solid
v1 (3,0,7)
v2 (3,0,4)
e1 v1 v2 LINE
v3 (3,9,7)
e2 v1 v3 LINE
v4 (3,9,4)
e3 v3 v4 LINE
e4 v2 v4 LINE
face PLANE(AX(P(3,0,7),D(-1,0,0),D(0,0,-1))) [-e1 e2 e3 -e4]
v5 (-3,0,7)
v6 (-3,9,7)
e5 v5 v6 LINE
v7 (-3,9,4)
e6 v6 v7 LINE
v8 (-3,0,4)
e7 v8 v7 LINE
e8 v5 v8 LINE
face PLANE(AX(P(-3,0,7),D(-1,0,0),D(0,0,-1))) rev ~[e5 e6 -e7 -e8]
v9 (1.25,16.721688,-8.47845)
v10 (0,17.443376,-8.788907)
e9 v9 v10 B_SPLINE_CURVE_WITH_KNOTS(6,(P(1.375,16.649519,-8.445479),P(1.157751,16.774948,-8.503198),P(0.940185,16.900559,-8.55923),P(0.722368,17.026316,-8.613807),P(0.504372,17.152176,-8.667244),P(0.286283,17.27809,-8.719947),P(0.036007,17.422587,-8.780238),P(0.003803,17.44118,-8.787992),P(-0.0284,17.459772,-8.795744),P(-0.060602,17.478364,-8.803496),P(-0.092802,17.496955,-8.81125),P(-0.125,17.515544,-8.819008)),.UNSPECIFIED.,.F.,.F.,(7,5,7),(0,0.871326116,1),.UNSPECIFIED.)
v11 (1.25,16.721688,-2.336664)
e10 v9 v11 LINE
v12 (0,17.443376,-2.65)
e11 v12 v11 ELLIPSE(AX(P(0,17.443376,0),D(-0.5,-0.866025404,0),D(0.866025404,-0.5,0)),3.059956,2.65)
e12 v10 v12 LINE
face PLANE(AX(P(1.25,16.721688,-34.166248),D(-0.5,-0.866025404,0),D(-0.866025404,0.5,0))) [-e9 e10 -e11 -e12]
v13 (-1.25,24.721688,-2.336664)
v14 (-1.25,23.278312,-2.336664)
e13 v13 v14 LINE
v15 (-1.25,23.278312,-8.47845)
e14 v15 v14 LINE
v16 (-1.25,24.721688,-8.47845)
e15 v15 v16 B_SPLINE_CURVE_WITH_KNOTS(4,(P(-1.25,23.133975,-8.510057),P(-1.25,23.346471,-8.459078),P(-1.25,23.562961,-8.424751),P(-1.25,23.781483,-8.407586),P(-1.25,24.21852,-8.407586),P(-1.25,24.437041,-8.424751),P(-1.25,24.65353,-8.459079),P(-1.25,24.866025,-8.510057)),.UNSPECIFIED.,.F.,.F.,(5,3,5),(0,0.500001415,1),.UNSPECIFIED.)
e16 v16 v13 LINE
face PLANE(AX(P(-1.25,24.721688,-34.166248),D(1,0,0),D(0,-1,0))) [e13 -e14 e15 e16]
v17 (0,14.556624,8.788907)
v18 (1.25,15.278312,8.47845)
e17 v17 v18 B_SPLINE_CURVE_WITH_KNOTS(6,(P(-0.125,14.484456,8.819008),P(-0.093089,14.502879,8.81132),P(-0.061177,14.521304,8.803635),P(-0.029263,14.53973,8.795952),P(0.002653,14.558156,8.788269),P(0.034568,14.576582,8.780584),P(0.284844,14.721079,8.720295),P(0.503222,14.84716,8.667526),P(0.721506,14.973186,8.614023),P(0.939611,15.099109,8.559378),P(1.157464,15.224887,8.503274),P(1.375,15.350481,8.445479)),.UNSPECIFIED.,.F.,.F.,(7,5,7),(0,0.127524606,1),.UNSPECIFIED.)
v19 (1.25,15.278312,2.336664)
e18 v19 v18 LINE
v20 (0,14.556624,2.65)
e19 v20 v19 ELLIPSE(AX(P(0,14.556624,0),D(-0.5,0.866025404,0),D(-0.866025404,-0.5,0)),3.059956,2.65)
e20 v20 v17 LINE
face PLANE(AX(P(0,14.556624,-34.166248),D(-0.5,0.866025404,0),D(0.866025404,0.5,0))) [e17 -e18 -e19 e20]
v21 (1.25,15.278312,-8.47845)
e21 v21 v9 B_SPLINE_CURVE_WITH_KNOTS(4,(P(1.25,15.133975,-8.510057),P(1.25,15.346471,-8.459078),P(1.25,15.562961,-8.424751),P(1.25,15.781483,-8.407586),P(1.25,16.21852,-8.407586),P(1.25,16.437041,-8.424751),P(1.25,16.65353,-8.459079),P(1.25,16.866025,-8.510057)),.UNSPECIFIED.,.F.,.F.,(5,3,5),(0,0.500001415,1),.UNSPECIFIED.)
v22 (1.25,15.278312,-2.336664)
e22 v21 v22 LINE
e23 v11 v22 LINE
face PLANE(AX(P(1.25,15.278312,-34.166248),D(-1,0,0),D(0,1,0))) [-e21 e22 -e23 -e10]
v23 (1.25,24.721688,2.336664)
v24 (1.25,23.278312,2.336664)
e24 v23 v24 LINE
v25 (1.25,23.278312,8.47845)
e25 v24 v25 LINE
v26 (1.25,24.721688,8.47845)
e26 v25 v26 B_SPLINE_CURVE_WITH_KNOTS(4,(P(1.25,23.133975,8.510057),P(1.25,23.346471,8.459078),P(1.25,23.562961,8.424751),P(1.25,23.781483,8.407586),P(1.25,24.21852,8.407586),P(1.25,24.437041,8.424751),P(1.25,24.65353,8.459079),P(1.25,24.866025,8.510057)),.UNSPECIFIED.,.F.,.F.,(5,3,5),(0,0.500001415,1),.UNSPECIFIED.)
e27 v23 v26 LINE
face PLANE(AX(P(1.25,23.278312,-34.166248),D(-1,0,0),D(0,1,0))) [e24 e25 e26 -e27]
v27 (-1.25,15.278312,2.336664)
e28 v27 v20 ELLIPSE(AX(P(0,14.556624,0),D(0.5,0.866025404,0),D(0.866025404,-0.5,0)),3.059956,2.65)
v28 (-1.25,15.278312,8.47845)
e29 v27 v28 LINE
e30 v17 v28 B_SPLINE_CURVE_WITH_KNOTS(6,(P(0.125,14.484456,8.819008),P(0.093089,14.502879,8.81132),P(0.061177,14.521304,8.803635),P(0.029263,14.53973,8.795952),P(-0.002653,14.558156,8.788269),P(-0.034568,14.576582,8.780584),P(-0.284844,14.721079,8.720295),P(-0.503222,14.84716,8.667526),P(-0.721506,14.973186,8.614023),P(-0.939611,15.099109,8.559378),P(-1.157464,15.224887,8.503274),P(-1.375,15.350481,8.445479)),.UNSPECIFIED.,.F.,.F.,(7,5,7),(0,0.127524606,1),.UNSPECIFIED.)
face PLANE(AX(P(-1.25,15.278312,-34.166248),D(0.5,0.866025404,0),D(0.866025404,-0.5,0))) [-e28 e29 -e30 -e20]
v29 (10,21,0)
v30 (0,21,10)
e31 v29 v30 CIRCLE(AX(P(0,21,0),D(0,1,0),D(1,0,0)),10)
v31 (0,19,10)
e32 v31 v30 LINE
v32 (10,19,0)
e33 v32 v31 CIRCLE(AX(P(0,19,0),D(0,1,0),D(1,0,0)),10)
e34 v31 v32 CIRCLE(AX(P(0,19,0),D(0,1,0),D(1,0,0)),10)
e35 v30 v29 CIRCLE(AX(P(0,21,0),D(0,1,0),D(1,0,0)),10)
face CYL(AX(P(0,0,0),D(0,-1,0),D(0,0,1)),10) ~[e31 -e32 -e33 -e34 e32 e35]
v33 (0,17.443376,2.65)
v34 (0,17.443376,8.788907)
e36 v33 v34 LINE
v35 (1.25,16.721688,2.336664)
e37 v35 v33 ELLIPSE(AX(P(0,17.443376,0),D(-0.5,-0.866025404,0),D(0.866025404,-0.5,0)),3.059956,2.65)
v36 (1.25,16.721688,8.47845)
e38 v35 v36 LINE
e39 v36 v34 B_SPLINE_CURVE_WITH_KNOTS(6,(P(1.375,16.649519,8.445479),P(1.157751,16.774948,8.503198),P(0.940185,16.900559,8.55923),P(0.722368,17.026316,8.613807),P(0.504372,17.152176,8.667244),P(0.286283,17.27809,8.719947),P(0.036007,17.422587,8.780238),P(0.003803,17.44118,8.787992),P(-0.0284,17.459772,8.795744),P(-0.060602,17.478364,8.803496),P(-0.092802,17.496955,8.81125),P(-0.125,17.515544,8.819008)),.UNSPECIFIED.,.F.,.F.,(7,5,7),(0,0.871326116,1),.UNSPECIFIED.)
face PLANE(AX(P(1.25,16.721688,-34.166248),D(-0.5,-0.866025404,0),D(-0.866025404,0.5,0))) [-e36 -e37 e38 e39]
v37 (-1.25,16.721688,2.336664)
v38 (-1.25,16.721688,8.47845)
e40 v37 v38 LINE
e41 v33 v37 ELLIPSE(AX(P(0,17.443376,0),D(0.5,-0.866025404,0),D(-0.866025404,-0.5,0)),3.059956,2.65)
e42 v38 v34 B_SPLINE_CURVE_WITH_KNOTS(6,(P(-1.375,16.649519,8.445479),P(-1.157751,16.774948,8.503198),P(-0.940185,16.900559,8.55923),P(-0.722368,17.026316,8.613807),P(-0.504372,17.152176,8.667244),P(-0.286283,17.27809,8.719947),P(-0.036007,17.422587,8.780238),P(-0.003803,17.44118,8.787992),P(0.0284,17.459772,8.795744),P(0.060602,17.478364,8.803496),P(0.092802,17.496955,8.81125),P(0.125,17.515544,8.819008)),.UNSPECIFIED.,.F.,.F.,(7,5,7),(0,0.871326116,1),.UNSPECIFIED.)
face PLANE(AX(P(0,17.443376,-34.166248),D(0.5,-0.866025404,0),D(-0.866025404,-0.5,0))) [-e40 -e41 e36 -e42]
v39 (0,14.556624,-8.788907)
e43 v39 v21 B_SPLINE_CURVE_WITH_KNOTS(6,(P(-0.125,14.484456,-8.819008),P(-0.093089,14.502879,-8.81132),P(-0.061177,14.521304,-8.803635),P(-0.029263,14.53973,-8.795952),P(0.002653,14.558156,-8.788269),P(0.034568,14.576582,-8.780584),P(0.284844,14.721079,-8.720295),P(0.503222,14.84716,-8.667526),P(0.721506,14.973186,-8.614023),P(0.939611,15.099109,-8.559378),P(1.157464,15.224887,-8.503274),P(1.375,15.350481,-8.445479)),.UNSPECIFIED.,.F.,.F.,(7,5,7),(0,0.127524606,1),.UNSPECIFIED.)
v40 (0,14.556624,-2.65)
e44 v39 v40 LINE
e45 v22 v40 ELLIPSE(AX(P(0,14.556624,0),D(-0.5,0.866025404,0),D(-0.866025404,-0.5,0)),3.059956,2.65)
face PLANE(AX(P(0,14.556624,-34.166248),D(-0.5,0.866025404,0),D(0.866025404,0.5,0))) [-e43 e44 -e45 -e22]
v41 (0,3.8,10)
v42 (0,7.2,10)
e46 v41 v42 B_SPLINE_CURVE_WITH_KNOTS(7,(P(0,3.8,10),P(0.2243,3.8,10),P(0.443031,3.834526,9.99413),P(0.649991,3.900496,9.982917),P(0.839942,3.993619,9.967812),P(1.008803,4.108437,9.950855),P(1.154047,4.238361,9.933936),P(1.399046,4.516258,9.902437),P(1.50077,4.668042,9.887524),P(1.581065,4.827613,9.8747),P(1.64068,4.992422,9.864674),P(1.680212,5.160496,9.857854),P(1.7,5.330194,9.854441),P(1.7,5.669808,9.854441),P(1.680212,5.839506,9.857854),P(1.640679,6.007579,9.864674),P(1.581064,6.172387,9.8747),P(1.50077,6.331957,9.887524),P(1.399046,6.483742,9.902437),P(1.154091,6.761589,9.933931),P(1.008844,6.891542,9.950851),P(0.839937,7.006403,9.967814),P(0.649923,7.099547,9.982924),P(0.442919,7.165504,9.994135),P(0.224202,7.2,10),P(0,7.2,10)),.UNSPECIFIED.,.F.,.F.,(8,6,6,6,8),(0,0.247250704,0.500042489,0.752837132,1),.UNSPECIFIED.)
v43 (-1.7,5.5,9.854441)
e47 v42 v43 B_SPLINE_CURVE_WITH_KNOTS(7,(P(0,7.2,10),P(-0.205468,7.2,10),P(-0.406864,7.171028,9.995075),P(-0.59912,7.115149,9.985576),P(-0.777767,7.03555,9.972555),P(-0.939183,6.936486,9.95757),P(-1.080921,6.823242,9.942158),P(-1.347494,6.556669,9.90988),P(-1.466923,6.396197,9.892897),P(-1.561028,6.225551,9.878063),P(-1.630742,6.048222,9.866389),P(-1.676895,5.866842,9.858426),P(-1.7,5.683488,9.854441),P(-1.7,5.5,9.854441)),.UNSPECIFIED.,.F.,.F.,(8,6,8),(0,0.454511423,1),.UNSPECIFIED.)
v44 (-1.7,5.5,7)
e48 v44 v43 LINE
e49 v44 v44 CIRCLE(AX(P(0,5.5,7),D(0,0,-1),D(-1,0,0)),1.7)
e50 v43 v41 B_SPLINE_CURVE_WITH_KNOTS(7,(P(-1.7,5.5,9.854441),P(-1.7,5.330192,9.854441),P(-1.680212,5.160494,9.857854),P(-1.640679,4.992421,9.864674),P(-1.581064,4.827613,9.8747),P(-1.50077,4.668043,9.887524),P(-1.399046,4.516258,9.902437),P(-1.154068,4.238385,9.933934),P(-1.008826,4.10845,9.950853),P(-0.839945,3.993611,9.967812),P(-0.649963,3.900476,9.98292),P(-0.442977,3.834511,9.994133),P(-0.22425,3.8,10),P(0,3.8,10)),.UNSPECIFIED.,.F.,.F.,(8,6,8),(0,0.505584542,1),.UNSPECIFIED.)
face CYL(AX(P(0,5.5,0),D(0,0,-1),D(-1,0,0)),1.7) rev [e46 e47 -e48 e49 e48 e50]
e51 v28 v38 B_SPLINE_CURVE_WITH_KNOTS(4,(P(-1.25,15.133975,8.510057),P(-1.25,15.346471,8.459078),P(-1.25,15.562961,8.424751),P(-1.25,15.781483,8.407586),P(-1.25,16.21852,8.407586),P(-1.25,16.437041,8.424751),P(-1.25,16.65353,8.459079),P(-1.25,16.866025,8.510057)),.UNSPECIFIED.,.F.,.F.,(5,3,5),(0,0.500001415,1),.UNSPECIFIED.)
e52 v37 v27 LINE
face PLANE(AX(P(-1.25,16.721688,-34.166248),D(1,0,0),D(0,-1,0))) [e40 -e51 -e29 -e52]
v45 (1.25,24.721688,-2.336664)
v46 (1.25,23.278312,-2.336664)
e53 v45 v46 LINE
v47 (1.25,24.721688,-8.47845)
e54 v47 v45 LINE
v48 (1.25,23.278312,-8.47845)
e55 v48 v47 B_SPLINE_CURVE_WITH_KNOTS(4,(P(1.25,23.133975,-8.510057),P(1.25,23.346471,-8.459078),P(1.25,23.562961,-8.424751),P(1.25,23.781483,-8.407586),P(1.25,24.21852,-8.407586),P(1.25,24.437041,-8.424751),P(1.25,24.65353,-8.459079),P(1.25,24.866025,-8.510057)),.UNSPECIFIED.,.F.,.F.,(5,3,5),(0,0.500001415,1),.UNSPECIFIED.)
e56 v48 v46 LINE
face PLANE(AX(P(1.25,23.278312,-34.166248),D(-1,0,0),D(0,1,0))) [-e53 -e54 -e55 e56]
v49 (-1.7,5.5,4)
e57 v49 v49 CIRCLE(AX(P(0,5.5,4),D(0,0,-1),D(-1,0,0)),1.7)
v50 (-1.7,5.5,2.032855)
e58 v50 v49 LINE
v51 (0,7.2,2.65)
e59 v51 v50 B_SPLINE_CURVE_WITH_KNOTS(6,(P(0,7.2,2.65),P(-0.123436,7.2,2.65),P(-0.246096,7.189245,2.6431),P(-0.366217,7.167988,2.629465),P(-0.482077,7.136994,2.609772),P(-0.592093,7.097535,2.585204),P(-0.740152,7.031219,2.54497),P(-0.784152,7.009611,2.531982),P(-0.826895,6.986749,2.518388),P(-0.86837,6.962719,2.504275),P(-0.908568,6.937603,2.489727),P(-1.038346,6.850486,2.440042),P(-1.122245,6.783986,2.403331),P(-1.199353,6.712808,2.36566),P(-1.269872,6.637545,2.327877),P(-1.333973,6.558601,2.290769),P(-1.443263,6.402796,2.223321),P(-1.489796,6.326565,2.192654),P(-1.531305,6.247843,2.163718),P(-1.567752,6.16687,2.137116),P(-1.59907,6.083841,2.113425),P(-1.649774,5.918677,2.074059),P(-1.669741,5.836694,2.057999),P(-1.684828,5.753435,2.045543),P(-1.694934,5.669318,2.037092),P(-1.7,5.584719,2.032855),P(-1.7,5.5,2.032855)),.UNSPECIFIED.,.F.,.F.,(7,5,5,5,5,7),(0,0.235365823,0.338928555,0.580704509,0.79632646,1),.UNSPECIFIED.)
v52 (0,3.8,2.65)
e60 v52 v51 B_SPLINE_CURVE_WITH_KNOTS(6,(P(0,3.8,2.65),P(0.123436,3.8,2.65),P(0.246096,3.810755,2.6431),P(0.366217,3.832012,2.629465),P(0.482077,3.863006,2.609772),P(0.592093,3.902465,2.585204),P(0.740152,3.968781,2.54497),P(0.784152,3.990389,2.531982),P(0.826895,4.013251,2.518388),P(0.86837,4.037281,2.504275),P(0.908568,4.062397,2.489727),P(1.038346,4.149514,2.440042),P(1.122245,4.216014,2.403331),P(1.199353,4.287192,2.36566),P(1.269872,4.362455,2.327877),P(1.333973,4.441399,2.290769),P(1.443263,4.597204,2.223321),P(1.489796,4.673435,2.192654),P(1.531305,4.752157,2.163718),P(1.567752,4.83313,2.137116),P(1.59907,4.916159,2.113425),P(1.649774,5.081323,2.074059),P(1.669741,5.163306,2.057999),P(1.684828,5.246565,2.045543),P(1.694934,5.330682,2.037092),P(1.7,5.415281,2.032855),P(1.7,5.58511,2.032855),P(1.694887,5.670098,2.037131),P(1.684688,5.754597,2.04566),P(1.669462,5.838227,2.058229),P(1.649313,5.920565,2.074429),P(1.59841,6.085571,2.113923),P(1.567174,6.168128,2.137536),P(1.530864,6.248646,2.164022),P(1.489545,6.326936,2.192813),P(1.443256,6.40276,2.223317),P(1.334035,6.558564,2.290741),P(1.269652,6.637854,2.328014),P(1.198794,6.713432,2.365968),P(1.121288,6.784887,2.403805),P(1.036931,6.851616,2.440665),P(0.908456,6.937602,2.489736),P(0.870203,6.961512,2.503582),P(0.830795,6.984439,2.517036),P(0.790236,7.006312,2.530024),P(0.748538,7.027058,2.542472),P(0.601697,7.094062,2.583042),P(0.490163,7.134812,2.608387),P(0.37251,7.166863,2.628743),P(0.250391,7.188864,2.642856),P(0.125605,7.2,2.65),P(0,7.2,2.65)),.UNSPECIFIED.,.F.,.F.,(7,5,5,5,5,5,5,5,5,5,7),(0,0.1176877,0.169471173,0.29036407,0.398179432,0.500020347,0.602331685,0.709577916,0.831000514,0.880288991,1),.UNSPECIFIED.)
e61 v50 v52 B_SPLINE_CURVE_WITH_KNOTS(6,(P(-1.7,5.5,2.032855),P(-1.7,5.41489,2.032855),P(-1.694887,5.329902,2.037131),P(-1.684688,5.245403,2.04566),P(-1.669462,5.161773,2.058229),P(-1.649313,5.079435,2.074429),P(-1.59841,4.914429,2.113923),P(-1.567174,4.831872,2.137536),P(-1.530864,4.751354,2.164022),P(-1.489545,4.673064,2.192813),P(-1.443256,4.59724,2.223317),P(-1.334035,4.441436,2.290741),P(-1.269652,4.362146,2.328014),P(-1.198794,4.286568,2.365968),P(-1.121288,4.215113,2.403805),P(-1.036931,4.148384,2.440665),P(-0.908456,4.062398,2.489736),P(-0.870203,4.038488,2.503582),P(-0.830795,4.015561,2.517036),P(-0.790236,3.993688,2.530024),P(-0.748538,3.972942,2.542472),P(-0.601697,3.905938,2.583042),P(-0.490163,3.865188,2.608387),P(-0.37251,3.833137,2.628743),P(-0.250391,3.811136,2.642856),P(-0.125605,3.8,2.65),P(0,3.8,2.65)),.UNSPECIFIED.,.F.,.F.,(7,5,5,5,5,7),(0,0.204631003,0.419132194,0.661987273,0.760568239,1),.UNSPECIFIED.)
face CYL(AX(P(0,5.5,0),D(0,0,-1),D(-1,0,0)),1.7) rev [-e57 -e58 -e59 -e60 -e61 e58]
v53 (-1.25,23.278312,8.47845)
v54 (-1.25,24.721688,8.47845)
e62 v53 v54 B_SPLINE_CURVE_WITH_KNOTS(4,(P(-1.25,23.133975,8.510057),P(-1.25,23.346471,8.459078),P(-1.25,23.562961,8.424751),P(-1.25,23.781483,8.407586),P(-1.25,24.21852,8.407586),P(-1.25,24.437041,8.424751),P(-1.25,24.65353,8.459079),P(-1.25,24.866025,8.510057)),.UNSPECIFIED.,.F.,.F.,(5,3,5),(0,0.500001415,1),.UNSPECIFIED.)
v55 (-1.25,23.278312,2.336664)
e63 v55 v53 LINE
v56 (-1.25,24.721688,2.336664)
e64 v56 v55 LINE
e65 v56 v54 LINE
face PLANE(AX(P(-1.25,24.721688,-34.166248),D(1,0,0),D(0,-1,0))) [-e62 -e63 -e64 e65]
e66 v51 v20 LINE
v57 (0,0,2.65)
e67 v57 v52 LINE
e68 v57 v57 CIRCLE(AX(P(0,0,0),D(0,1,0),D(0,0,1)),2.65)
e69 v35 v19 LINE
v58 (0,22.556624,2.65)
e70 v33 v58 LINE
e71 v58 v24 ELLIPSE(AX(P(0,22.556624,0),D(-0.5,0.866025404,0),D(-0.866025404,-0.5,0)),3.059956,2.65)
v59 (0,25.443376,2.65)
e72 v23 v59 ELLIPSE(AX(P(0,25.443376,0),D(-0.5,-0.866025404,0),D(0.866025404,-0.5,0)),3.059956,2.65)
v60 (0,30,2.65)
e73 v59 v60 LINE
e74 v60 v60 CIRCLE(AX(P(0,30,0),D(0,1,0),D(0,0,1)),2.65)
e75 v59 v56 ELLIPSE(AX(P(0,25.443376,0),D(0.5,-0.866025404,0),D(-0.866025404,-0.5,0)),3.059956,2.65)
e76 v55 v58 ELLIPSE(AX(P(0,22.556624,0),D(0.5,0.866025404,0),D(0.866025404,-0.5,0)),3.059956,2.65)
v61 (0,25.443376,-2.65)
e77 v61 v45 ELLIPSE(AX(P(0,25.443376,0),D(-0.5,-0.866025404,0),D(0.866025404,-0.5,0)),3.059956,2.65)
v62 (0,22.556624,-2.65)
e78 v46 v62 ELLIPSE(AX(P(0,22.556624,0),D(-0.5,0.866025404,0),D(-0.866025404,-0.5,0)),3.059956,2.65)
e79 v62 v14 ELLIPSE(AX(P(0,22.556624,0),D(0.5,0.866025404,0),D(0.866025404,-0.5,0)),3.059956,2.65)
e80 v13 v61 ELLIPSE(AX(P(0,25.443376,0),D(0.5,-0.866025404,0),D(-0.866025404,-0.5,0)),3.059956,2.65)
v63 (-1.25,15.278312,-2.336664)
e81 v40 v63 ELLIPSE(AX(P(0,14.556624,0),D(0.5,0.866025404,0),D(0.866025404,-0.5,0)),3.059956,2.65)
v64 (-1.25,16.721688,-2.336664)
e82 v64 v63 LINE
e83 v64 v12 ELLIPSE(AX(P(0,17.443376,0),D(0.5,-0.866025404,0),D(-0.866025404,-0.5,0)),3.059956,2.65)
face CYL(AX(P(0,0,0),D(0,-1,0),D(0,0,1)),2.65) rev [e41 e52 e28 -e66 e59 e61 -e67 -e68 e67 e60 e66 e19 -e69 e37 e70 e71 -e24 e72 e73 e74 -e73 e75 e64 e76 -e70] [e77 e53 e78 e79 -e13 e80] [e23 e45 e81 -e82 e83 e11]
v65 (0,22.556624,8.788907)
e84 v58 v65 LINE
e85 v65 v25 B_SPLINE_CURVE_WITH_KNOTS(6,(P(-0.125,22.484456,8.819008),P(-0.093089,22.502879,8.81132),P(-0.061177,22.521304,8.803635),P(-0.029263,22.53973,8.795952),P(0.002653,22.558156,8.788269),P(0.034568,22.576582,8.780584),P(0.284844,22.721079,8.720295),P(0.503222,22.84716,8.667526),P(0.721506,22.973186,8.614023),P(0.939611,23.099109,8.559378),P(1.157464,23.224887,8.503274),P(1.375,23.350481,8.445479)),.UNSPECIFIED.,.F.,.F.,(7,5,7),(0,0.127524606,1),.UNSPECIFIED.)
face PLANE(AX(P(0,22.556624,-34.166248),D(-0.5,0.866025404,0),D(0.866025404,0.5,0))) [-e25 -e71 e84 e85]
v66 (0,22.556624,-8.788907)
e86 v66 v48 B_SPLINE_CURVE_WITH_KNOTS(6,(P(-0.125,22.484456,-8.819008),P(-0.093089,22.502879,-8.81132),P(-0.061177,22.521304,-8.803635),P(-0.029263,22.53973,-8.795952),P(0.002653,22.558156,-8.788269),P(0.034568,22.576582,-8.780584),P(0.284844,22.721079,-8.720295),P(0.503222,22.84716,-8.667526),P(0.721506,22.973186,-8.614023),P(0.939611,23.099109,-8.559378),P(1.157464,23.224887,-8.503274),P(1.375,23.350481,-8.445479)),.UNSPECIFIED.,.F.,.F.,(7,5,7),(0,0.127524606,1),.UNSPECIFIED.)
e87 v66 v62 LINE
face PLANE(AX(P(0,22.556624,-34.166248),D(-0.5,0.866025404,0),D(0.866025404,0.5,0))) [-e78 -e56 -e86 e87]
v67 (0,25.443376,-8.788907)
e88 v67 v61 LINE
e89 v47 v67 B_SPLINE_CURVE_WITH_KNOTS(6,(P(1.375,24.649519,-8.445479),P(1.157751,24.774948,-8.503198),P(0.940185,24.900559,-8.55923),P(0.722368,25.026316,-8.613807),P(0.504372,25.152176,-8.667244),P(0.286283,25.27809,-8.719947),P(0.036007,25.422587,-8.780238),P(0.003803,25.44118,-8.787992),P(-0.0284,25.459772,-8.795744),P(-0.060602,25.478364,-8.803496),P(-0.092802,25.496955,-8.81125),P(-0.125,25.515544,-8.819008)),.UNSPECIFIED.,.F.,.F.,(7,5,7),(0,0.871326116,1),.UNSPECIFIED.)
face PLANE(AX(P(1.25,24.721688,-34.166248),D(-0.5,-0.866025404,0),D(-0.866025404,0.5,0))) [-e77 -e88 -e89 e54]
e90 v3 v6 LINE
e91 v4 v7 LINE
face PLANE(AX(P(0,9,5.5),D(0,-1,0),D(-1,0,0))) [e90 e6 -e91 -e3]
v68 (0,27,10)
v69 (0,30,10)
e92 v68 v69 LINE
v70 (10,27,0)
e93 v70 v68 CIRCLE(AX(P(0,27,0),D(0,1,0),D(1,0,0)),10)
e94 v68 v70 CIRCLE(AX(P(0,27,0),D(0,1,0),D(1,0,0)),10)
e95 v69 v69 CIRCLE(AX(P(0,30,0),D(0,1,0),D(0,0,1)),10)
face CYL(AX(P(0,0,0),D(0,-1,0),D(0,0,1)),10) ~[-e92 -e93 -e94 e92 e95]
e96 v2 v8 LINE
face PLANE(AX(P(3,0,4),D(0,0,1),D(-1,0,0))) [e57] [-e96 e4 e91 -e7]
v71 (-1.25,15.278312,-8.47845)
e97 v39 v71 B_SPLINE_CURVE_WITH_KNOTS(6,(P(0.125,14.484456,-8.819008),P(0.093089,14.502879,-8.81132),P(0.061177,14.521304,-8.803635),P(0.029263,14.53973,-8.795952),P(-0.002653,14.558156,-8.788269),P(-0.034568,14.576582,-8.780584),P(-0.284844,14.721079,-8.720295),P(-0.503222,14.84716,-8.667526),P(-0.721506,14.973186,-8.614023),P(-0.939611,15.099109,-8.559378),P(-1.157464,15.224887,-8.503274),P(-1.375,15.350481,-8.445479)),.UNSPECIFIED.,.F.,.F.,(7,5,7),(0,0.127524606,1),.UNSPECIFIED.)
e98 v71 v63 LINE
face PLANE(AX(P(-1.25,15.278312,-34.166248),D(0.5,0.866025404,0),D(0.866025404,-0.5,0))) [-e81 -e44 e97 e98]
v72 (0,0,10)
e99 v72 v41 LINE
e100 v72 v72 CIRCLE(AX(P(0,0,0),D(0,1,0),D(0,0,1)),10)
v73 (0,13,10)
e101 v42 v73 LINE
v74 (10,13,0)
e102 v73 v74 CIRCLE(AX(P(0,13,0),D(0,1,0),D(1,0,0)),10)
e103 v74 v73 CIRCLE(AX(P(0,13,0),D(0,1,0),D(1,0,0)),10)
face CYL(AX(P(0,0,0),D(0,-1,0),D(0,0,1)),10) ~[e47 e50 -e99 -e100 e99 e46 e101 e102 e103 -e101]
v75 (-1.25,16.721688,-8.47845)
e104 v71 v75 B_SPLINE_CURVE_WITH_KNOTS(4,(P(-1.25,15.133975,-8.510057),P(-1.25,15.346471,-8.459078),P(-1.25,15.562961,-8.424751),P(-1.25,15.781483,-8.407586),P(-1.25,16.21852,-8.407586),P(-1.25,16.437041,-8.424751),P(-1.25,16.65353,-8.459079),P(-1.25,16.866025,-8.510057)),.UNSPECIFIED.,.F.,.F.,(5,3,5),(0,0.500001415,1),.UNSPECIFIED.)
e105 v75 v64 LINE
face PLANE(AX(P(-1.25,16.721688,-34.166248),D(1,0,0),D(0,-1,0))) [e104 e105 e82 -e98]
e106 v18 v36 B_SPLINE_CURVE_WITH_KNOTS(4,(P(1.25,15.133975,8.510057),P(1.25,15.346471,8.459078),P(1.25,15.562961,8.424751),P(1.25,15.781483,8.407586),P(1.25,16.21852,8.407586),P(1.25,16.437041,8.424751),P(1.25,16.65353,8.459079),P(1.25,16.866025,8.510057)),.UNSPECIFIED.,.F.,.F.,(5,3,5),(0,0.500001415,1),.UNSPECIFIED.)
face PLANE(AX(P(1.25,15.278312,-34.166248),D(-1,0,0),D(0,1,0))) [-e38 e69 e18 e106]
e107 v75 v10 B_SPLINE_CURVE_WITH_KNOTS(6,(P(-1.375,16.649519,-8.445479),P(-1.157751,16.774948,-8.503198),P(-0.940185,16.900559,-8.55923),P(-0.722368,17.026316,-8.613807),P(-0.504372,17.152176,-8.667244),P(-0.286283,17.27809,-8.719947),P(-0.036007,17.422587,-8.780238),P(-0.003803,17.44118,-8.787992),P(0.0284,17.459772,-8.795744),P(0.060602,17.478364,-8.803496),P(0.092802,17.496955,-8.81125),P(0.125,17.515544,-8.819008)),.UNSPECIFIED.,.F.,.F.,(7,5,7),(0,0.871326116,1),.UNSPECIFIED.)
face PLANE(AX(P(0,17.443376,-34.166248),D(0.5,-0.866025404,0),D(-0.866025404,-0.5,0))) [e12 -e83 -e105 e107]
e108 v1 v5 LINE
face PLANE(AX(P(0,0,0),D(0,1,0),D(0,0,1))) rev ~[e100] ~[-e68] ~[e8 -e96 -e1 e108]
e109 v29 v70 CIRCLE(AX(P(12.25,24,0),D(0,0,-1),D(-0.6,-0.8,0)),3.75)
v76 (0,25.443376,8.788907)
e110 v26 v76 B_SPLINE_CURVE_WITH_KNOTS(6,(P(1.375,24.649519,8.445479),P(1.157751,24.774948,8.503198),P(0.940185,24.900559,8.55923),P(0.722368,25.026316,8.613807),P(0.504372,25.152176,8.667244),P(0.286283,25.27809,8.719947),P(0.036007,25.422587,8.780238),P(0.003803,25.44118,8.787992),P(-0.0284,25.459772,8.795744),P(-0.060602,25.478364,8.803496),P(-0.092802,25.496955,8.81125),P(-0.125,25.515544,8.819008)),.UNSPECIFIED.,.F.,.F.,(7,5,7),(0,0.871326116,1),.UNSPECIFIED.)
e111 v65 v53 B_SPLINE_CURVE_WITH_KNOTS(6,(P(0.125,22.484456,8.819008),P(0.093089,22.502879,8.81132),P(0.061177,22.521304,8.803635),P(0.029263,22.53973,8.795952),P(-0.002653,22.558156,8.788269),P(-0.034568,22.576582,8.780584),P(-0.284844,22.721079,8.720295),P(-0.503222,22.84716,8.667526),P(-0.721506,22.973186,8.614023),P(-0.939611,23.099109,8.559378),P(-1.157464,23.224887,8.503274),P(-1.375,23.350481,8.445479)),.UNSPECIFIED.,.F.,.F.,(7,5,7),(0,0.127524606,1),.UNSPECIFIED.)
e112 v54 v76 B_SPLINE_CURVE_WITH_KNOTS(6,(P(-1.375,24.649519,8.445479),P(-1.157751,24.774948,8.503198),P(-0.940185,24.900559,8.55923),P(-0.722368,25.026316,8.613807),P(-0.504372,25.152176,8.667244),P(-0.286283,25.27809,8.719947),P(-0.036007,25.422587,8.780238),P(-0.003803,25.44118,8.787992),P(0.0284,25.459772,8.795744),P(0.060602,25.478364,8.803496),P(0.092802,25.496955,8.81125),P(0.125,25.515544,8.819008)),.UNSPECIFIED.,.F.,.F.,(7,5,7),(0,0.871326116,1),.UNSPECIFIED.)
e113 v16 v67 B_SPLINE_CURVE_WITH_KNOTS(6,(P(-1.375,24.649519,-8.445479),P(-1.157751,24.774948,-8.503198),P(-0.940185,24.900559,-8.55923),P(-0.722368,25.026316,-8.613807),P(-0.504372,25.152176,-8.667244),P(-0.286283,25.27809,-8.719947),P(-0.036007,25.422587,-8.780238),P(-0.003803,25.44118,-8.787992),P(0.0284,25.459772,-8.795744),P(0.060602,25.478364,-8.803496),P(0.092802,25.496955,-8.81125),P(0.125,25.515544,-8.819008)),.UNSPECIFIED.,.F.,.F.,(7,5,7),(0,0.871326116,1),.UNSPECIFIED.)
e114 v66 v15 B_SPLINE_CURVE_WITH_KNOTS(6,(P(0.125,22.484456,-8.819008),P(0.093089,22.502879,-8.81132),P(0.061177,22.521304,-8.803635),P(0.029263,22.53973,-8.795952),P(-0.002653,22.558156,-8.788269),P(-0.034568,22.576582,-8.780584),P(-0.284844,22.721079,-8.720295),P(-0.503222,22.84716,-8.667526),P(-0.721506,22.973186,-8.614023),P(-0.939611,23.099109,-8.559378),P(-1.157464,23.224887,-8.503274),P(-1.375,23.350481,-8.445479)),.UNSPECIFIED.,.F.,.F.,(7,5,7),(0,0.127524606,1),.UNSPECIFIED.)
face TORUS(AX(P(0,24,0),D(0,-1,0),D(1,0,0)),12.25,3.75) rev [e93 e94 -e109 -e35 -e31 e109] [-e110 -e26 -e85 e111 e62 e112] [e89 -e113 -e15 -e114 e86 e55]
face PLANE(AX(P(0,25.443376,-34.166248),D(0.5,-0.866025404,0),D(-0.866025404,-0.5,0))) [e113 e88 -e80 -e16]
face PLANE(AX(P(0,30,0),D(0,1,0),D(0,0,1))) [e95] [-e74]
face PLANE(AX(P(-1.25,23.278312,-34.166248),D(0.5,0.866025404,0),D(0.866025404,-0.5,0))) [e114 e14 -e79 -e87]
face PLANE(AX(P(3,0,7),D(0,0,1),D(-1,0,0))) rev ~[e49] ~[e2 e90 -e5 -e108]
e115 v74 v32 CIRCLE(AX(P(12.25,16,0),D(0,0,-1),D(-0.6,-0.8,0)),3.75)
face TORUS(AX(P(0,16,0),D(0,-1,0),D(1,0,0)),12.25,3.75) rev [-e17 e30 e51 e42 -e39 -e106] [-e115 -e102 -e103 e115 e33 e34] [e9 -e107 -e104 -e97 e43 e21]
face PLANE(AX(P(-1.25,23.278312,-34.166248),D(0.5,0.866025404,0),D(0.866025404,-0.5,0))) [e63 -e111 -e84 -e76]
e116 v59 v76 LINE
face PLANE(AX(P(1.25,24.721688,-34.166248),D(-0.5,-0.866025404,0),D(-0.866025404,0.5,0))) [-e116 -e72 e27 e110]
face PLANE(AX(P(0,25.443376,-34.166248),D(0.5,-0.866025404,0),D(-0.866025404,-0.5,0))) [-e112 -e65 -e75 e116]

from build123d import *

# Parameters (mm, degrees)
CROQUIS1_R                 = 10
CROQUIS1_R_2               = 2.65
SALIENTE_EXTRUIR1_DEPTH    = 30
CROQUIS2_R                 = 1.7
CORTAR_EXTRUIR1_DEPTH      = 30
CROQUIS3_W                 = 6
CROQUIS3_H                 = 3
CORTAR_EXTRUIR2_DEPTH      = 9
CORTAR_EXTRUIR3_DEPTH      = 34.166248054
CORTAR_EXTRUIR3_DEPTH_BACK = 34.166248054


with BuildPart() as part:
    # Croquis1 → Saliente-Extruir1 (new body)
    with BuildSketch(Plane(origin=(0, 0, 0), x_dir=(1, 0, 0), z_dir=(0, 1, 0))):
        with Locations(Location((0, 0, 0), (0, 0, 270))):
            Circle(CROQUIS1_R)
        with Locations(Location((0, 0, 0), (0, 0, 270))):
            Circle(CROQUIS1_R_2, mode=Mode.SUBTRACT)
    extrude(amount=SALIENTE_EXTRUIR1_DEPTH)

    # Croquis2 → Cortar-Extruir1 (cut)
    with BuildSketch(Plane.XY):
        with Locations(Location((0, 5.5, 0), (0, 0, 180))):
            Circle(CROQUIS2_R)
    extrude(amount=CORTAR_EXTRUIR1_DEPTH, mode=Mode.SUBTRACT)

    # Croquis3 → Cortar-Extruir2 (cut)
    with BuildSketch(Plane(origin=(0, 0, 0), x_dir=(-1, 0, 0), z_dir=(0, -1, 0))):
        with Locations((0, -5.5)):
            Rectangle(CROQUIS3_W, CROQUIS3_H)
    extrude(amount=-CORTAR_EXTRUIR2_DEPTH, mode=Mode.SUBTRACT)

    # Croquis4 → Cortar-Extruir3 (cut, two sides: drawn at the far end of the back side and taken through both)
    with BuildSketch(Plane.XY.offset(-CORTAR_EXTRUIR3_DEPTH_BACK)):
        Polygon((0, 17.443375673), (-1.25, 16.721687836), (-1.25, 15.278312164), (0, 14.556624327), (1.25, 15.278312164), (1.25, 16.721687836), align=None)
        Polygon((0, 25.443375673), (-1.25, 24.721687836), (-1.25, 23.278312164), (0, 22.556624327), (1.25, 23.278312164), (1.25, 24.721687836), align=None)
    extrude(amount=CORTAR_EXTRUIR3_DEPTH + CORTAR_EXTRUIR3_DEPTH_BACK, mode=Mode.SUBTRACT)

    # Croquis5 → Cortar-Revolución1 (revolve, cut)
    with BuildSketch(Plane.XY, mode=Mode.PRIVATE) as cortar_revoluci_n1_sk:
        with BuildLine():
            Line((-10, 27), (-10, 21))
            ThreePointArc((-10, 21), (-8.5, 24), (-10, 27))
        make_face()
        with BuildLine():
            Line((-10, 19), (-10, 13))
            ThreePointArc((-10, 13), (-8.5, 16), (-10, 19))
        make_face()
    revolve(cortar_revoluci_n1_sk.sketch.rotate(Axis((0, 16, 0), (0, 1, 0)), 180), axis=Axis((0, 16, 0), (0, 1, 0)), mode=Mode.SUBTRACT)


solid = part.part
